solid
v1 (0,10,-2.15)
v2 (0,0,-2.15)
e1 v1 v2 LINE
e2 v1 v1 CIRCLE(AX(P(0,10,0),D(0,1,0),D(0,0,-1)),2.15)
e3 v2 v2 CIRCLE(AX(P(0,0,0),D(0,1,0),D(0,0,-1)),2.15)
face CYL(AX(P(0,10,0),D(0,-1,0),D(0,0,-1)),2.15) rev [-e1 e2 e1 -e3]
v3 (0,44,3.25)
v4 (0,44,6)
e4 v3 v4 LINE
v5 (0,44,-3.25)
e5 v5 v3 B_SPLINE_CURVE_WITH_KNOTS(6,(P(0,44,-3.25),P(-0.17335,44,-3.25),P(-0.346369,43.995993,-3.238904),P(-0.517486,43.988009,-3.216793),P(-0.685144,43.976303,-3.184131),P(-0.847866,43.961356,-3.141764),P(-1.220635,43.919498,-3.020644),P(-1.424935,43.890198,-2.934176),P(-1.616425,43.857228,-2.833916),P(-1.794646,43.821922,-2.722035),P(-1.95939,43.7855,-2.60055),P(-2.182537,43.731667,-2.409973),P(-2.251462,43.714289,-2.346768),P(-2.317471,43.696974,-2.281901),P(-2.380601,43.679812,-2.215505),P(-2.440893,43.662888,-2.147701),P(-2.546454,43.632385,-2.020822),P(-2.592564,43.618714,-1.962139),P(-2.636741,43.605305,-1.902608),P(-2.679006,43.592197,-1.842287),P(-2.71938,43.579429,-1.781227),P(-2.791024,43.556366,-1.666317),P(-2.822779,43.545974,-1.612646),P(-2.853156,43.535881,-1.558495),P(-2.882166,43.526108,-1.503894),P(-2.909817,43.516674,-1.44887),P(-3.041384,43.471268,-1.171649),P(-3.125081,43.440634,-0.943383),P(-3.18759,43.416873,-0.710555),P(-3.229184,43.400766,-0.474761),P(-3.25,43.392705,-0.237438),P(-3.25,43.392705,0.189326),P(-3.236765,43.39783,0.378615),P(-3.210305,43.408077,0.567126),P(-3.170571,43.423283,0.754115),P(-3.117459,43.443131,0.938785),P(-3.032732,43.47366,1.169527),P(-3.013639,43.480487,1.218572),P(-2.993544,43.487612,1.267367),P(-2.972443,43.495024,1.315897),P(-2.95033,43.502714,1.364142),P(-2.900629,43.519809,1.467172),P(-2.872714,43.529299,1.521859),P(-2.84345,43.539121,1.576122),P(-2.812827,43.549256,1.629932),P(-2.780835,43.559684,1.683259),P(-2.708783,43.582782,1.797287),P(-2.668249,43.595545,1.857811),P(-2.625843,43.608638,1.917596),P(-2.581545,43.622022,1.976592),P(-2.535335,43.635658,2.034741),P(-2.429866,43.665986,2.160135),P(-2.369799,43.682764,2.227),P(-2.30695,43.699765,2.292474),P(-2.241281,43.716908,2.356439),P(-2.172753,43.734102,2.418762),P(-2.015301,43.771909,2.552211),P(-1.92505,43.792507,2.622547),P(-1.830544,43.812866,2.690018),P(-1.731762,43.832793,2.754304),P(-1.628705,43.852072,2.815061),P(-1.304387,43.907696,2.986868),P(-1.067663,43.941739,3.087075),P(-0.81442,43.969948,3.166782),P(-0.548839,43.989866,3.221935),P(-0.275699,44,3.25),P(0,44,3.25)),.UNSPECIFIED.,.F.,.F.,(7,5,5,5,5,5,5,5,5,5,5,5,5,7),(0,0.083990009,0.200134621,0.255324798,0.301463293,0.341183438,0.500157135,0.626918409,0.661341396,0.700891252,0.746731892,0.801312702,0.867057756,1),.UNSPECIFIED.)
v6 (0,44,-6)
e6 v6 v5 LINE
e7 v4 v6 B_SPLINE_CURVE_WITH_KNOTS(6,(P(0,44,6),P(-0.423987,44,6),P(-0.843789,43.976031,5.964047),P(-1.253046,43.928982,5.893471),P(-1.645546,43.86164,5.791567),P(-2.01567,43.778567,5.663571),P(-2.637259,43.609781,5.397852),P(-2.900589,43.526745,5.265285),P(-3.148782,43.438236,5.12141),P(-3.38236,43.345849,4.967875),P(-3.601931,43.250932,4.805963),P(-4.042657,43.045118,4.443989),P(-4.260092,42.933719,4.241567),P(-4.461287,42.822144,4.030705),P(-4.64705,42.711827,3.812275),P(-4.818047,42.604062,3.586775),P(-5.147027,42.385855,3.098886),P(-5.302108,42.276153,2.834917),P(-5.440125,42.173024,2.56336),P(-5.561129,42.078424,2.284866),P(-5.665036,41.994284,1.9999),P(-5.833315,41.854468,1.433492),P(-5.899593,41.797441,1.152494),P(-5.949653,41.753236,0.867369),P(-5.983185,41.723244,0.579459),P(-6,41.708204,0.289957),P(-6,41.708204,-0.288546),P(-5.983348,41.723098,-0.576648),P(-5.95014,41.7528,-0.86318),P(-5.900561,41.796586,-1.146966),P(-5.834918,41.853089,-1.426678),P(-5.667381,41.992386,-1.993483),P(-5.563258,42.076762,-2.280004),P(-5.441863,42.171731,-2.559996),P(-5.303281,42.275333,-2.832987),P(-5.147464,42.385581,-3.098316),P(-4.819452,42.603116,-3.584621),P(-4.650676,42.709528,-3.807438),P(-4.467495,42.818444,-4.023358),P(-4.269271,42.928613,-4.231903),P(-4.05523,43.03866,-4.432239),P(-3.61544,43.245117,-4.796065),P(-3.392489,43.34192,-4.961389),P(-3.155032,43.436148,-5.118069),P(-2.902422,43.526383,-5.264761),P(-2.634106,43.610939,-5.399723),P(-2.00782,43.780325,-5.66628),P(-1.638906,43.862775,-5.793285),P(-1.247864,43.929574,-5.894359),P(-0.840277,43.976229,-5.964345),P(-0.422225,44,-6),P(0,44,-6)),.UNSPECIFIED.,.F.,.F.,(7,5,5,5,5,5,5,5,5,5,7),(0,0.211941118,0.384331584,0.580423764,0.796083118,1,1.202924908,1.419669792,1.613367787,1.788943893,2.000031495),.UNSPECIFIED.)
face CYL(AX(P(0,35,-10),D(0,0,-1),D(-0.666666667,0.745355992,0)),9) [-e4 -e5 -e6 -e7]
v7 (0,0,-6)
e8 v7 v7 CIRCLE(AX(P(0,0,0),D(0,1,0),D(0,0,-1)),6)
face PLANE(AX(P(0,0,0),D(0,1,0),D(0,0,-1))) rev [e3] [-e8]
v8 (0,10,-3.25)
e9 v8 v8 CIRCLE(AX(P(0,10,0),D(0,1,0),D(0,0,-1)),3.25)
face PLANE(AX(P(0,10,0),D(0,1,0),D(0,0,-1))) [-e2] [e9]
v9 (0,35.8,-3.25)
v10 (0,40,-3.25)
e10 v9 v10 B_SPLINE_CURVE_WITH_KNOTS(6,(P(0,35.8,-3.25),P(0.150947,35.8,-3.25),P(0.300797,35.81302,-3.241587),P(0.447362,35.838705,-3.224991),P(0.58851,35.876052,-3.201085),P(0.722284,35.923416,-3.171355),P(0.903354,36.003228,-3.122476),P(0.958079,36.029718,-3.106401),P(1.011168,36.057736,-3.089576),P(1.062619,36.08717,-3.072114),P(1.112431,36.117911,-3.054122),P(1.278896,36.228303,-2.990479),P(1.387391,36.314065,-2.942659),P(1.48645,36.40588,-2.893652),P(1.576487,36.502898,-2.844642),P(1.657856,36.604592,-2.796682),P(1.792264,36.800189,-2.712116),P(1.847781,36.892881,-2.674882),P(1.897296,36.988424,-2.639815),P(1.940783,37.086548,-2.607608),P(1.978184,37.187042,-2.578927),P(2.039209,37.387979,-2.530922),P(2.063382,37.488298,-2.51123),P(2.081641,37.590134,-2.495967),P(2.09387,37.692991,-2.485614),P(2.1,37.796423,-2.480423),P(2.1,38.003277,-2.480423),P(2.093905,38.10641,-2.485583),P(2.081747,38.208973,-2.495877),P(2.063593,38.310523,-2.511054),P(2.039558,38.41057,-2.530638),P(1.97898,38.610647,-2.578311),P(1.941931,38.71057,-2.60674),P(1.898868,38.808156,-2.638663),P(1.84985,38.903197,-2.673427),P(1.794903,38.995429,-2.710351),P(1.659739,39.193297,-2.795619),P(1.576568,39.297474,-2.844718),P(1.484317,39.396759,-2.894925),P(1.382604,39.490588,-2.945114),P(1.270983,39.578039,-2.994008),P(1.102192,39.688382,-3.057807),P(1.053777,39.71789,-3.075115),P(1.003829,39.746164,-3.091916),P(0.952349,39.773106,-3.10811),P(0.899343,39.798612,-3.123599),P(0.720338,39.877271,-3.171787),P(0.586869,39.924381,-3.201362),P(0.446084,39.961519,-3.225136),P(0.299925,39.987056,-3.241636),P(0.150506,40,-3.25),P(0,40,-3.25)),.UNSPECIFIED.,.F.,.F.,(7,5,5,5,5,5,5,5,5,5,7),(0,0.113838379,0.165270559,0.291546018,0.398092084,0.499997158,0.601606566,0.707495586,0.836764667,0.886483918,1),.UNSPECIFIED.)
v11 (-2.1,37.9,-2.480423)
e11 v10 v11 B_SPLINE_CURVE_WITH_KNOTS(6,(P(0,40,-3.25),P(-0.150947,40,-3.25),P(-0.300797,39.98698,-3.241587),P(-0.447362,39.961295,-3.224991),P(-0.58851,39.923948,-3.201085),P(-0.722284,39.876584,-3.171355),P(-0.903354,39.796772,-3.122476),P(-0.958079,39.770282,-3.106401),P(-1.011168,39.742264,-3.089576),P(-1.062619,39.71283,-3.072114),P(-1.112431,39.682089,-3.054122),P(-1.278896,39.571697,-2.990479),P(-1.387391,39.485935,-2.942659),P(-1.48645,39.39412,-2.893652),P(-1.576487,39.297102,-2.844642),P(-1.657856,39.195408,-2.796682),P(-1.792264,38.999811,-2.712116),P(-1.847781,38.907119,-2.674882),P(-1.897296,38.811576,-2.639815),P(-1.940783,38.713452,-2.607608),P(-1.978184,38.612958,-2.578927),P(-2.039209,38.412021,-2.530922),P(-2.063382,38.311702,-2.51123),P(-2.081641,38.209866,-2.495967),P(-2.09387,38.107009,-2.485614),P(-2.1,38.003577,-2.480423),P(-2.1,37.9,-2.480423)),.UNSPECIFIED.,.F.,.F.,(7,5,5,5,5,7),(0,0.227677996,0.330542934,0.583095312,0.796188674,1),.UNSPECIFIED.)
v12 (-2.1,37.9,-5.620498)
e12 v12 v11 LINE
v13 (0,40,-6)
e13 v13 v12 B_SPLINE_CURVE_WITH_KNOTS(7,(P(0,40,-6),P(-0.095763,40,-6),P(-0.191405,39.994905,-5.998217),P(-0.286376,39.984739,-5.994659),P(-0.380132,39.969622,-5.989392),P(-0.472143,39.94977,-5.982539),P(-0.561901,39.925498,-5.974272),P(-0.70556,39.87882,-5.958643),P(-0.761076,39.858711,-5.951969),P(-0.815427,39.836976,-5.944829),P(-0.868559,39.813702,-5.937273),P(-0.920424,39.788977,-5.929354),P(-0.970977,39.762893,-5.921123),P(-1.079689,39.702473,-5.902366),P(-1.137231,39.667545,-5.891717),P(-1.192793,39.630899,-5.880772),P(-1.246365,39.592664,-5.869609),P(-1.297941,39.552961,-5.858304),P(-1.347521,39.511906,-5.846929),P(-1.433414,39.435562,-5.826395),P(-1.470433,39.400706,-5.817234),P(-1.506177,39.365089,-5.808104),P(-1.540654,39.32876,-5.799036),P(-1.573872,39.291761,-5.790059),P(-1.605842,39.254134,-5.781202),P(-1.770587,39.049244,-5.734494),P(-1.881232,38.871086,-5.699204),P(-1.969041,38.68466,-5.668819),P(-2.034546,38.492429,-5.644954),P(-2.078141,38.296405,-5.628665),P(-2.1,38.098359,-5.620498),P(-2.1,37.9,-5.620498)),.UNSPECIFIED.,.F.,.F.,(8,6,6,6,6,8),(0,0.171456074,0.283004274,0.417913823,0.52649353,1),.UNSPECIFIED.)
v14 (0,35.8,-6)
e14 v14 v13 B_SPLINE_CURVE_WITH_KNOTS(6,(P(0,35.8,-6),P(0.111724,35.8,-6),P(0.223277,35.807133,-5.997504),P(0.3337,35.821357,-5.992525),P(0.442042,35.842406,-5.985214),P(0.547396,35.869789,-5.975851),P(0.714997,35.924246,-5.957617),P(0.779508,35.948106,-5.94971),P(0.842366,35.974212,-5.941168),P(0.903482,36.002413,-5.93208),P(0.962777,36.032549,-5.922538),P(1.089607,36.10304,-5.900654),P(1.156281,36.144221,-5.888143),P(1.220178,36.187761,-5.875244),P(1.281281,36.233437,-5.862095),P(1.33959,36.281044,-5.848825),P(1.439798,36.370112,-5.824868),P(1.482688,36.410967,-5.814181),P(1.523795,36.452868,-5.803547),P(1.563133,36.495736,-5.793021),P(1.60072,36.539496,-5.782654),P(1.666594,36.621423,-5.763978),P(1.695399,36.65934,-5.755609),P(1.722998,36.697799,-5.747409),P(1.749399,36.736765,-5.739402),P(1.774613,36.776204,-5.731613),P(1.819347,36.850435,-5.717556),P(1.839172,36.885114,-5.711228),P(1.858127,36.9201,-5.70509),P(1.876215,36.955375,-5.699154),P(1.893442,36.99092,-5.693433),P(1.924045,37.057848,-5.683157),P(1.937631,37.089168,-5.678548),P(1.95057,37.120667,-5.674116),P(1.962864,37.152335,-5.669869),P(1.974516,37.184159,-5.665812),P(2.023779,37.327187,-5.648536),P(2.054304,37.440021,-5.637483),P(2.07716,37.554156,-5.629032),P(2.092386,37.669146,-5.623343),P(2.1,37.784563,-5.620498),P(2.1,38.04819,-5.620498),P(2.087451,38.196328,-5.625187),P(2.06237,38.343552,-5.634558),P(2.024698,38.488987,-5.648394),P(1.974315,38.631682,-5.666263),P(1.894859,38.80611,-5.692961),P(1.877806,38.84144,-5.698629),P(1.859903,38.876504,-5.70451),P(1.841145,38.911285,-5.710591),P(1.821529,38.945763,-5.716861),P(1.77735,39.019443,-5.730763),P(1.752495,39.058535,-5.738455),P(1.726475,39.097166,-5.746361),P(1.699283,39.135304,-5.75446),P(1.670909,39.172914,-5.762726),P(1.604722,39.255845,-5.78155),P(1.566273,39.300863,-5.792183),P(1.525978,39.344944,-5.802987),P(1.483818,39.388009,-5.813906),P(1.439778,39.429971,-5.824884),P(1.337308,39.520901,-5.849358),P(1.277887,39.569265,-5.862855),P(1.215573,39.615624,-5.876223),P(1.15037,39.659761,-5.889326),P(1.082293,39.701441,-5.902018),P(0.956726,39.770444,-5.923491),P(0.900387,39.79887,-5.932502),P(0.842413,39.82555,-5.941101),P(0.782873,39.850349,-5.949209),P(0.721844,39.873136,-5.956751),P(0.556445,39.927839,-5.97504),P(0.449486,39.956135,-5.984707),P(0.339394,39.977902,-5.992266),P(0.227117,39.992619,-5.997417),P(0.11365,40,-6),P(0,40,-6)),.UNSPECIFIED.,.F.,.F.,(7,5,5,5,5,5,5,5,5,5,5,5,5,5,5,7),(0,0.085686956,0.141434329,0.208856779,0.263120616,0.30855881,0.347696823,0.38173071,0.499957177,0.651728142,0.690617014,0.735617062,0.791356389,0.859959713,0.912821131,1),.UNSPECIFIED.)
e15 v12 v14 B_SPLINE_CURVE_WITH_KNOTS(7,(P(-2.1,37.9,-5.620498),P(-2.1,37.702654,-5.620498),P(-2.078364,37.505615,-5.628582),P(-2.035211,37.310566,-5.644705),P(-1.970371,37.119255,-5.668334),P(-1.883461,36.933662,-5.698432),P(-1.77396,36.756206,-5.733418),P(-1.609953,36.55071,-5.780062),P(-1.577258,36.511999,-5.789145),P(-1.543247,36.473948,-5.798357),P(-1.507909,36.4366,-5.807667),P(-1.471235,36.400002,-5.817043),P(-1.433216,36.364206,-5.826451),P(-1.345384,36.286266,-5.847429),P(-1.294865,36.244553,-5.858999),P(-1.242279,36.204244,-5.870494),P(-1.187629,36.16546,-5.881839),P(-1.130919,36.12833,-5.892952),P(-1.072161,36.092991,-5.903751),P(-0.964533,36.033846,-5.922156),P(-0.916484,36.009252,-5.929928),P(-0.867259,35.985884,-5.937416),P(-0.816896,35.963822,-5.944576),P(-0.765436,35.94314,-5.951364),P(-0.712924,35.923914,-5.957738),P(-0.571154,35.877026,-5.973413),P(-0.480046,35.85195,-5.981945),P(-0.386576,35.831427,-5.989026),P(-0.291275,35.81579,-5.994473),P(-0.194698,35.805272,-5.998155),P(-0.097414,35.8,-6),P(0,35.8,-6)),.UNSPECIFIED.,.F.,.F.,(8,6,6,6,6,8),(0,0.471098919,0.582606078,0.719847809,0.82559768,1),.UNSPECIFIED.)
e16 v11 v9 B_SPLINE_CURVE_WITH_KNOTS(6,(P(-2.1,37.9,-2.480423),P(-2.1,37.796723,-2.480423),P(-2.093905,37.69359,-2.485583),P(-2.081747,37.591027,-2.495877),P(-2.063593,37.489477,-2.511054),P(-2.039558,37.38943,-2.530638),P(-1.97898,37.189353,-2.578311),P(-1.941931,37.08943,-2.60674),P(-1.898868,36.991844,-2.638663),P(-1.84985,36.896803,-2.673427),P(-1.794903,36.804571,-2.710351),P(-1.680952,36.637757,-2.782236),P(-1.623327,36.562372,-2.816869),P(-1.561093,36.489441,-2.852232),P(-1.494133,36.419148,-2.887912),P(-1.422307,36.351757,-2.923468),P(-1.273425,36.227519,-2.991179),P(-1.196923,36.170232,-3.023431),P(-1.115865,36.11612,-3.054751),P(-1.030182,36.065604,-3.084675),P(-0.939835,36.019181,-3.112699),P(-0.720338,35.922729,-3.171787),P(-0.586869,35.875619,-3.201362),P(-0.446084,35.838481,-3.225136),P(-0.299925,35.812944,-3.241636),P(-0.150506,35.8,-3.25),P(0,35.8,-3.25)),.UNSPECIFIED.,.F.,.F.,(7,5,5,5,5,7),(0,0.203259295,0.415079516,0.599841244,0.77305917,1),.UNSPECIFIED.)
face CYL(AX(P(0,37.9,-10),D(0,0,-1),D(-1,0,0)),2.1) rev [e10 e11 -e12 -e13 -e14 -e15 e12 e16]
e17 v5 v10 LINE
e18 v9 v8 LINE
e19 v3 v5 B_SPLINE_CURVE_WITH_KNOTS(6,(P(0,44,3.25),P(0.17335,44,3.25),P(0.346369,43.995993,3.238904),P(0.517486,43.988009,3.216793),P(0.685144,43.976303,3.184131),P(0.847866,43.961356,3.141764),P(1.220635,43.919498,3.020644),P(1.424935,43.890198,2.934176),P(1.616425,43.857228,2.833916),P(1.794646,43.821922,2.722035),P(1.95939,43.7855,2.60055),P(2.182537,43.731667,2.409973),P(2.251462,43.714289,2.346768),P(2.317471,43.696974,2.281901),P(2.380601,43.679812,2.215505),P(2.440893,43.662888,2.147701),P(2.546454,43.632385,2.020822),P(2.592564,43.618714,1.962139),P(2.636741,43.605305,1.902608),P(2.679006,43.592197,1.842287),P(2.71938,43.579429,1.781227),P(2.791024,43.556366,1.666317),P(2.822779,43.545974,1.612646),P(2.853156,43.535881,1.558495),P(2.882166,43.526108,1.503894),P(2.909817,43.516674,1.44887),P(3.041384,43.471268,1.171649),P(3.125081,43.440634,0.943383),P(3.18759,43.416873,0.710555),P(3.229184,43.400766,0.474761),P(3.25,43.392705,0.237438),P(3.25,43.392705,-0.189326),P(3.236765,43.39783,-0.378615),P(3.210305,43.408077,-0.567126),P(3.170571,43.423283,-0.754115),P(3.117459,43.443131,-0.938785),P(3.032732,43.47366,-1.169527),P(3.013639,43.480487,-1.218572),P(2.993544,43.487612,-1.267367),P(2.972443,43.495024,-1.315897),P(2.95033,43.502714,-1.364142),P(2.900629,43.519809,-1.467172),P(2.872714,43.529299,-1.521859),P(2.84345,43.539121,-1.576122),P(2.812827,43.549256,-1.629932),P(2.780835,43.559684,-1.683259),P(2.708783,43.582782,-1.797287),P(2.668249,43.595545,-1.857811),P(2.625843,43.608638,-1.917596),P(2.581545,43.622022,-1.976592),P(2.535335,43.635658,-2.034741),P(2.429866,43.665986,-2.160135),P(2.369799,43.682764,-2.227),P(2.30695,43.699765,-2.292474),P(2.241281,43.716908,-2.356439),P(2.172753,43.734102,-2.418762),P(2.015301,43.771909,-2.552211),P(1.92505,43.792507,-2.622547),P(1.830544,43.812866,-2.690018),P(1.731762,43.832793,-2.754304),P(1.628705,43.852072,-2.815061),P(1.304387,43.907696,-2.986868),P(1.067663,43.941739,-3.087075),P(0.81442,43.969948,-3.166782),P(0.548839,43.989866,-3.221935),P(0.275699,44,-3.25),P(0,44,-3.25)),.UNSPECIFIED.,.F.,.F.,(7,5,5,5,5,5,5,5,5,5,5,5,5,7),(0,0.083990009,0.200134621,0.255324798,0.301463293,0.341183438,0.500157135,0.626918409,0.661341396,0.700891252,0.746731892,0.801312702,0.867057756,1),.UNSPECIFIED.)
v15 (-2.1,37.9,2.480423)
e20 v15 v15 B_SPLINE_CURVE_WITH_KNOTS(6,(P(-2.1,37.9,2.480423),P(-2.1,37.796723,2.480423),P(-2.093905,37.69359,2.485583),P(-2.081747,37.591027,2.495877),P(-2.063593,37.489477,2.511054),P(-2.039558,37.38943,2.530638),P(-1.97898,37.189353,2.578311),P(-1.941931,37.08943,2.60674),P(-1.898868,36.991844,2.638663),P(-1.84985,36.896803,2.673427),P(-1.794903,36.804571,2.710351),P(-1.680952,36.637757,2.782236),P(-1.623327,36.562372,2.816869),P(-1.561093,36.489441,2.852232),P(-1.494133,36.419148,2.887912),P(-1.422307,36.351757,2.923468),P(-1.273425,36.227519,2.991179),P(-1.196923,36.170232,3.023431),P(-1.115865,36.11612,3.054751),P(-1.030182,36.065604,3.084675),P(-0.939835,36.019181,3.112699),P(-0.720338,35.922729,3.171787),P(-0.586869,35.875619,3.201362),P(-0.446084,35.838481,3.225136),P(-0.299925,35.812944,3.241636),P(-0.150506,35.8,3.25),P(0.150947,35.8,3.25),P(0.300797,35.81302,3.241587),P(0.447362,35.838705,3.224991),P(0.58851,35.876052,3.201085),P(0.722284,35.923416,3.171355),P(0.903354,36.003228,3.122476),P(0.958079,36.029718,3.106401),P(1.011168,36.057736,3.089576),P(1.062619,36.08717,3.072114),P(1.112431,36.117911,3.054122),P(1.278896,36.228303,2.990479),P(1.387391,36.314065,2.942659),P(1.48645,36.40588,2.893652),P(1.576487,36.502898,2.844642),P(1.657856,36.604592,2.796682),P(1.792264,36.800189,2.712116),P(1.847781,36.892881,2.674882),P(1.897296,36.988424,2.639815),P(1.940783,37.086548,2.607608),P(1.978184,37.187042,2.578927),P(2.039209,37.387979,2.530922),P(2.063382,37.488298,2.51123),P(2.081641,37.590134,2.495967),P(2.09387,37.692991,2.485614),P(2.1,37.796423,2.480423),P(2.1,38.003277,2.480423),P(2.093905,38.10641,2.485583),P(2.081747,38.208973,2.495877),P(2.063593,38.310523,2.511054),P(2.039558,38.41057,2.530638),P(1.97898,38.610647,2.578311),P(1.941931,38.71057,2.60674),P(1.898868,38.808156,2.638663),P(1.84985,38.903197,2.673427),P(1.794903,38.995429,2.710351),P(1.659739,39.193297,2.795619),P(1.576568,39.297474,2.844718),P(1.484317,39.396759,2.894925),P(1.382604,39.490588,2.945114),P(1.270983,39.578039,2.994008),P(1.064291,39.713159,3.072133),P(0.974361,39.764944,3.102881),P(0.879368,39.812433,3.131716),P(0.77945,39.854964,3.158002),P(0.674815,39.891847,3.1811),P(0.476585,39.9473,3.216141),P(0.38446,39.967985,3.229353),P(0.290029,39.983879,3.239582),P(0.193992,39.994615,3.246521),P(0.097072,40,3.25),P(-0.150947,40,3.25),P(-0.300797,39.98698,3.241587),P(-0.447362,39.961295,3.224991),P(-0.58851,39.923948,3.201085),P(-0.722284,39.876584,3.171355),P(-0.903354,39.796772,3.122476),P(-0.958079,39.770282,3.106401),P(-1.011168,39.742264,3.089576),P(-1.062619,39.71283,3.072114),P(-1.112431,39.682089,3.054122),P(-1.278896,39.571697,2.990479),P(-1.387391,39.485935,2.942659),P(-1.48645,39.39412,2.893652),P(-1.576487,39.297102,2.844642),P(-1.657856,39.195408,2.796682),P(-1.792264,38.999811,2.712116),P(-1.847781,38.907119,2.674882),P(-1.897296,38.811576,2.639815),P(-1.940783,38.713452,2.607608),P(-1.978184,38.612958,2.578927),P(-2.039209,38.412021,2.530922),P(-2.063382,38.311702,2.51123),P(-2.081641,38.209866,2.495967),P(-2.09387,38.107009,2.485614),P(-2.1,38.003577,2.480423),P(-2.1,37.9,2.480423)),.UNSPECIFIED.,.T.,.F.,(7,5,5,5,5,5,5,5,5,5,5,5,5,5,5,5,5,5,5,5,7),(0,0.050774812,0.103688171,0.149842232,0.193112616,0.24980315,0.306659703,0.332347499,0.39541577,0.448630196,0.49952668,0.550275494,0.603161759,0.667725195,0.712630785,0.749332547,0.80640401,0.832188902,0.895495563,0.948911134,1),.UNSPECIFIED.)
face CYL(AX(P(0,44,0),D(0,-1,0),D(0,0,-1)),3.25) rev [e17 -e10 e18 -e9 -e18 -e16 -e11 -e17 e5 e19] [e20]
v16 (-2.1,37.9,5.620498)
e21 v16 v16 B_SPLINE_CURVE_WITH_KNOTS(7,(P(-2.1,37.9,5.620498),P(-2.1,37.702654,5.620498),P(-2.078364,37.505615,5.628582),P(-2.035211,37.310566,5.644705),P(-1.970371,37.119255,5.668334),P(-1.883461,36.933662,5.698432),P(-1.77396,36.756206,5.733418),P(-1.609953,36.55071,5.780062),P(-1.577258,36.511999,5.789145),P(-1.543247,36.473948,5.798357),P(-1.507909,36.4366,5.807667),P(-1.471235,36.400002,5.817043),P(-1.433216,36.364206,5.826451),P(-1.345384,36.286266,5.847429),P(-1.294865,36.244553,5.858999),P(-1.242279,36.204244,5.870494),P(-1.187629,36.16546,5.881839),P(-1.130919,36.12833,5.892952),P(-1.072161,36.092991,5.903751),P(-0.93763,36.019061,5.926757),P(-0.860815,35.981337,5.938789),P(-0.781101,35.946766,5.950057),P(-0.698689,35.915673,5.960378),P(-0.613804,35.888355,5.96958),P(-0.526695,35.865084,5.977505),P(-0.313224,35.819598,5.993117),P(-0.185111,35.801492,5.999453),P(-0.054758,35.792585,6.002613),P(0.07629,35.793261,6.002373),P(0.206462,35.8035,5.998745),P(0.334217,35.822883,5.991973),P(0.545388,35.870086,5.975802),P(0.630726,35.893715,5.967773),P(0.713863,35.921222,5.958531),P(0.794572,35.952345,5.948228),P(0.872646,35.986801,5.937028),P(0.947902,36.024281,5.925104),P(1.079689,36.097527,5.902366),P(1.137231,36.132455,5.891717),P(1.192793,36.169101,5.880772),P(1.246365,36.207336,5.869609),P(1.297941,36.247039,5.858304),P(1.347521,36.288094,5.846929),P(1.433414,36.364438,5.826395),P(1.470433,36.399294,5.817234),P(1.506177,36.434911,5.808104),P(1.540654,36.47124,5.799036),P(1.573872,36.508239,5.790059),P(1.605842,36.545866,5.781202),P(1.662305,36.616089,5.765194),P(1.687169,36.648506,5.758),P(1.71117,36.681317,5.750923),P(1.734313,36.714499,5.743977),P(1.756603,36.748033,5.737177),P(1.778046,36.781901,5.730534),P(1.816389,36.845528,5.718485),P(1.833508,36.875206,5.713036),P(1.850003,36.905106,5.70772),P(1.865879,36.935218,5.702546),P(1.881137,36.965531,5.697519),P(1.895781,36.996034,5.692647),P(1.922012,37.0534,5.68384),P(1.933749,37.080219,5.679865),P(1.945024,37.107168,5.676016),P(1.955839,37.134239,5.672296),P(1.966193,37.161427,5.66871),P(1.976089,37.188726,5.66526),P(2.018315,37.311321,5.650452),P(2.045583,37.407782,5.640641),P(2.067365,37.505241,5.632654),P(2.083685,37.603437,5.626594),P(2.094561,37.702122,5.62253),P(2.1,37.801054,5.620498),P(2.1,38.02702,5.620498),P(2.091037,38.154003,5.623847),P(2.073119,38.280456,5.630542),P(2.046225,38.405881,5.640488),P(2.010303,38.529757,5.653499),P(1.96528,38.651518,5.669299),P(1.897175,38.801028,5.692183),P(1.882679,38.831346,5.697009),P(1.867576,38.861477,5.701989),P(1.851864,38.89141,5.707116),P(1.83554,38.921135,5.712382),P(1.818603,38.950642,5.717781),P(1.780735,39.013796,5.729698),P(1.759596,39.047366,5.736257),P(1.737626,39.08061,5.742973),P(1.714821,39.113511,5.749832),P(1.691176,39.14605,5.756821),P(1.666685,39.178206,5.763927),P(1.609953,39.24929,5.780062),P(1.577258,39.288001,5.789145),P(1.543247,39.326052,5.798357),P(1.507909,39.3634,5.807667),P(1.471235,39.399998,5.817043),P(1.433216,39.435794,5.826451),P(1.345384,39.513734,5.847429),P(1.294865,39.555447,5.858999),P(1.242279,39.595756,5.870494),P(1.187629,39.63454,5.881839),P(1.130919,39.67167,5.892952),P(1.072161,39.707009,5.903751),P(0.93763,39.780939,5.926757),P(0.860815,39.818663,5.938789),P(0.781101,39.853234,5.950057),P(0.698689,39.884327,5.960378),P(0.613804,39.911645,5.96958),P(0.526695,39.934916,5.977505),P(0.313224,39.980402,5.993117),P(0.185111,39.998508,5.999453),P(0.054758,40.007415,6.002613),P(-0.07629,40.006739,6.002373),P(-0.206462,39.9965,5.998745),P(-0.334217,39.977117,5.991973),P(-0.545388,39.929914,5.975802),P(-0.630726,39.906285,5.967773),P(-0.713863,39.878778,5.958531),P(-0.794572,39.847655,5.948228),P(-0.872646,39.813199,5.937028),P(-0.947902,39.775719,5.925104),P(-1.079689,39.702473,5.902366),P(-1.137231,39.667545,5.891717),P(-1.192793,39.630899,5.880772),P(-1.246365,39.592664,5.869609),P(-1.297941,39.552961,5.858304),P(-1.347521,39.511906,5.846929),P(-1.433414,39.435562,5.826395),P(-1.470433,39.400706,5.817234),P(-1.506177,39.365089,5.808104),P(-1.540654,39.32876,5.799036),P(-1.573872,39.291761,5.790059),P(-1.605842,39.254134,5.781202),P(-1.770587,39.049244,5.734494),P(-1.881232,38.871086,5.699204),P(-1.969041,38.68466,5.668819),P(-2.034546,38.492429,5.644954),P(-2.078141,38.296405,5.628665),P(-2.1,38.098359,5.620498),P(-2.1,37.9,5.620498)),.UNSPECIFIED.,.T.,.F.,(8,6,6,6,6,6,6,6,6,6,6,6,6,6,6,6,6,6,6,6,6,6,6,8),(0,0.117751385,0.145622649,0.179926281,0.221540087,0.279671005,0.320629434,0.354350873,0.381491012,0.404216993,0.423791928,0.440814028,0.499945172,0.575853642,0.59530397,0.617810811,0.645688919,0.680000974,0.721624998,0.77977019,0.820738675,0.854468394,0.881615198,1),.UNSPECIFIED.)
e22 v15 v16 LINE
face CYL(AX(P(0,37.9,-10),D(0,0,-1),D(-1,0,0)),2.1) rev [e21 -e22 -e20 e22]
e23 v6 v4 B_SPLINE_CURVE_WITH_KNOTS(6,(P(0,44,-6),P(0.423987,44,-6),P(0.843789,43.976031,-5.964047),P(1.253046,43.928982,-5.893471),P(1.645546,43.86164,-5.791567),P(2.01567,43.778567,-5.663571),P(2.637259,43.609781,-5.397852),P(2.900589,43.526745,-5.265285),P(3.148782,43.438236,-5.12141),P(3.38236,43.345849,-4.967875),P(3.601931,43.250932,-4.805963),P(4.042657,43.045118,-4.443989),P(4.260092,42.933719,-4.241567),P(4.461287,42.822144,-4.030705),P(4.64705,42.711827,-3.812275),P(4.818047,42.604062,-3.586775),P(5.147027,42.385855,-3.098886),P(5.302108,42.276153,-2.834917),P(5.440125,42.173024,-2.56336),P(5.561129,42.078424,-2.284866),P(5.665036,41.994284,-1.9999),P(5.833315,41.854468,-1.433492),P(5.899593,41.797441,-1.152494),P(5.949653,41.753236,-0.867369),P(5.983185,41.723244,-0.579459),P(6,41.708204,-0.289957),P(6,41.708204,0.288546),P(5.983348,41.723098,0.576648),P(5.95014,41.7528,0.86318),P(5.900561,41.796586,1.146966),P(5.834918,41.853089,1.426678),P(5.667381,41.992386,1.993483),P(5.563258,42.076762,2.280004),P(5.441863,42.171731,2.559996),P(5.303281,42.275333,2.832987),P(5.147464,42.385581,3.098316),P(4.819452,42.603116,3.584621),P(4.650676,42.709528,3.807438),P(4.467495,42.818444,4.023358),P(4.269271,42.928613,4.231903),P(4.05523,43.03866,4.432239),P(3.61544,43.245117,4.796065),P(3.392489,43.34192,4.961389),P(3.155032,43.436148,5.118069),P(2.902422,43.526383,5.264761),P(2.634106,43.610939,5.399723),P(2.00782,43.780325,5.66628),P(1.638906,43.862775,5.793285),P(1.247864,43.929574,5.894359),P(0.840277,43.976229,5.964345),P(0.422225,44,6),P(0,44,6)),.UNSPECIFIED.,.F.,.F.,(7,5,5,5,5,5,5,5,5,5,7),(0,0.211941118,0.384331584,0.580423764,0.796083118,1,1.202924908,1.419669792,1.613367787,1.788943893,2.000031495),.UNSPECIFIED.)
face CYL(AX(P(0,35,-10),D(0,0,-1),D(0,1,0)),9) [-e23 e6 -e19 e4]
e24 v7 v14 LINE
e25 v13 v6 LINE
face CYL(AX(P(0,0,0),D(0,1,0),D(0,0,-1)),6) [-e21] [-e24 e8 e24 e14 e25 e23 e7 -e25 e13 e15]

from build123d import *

# Parameters (mm, degrees)
CUT_EXTRUDE1_DEPTH      = 10
CUT_EXTRUDE1_DEPTH_BACK = 10
SKETCH2_R               = 2.1


with BuildPart() as part:
    # Sketch1 → Revolve1 (revolve)
    with BuildSketch(Plane.XY):
        Polygon((2.15, 0), (6, 0), (6, 44), (3.25, 44), (3.25, 10), (2.15, 10), align=None)
    revolve(axis=Axis((0, 0, 0), (0, 1, 0)))

    # Sketch2 → Cut-Extrude1 (cut, two sides: drawn at the far end of the back side and taken through both)
    with BuildSketch(Plane.XY.offset(-CUT_EXTRUDE1_DEPTH_BACK)):
        with BuildLine():
            Line((6, 44), (0, 44))
            ThreePointArc((0, 44), (3.211398808, 43.407551231), (6, 41.708203932))
            Line((6, 41.708203932), (6, 44))
        make_face()
        with BuildLine():
            Line((-6, 44), (-6, 41.708203932))
            ThreePointArc((-6, 41.708203932), (-3.211398808, 43.407551231), (0, 44))
            Line((0, 44), (-6, 44))
        make_face()
        with Locations((0, 37.9)):
            Circle(SKETCH2_R)
    extrude(amount=CUT_EXTRUDE1_DEPTH + CUT_EXTRUDE1_DEPTH_BACK, mode=Mode.SUBTRACT)


solid = part.part
